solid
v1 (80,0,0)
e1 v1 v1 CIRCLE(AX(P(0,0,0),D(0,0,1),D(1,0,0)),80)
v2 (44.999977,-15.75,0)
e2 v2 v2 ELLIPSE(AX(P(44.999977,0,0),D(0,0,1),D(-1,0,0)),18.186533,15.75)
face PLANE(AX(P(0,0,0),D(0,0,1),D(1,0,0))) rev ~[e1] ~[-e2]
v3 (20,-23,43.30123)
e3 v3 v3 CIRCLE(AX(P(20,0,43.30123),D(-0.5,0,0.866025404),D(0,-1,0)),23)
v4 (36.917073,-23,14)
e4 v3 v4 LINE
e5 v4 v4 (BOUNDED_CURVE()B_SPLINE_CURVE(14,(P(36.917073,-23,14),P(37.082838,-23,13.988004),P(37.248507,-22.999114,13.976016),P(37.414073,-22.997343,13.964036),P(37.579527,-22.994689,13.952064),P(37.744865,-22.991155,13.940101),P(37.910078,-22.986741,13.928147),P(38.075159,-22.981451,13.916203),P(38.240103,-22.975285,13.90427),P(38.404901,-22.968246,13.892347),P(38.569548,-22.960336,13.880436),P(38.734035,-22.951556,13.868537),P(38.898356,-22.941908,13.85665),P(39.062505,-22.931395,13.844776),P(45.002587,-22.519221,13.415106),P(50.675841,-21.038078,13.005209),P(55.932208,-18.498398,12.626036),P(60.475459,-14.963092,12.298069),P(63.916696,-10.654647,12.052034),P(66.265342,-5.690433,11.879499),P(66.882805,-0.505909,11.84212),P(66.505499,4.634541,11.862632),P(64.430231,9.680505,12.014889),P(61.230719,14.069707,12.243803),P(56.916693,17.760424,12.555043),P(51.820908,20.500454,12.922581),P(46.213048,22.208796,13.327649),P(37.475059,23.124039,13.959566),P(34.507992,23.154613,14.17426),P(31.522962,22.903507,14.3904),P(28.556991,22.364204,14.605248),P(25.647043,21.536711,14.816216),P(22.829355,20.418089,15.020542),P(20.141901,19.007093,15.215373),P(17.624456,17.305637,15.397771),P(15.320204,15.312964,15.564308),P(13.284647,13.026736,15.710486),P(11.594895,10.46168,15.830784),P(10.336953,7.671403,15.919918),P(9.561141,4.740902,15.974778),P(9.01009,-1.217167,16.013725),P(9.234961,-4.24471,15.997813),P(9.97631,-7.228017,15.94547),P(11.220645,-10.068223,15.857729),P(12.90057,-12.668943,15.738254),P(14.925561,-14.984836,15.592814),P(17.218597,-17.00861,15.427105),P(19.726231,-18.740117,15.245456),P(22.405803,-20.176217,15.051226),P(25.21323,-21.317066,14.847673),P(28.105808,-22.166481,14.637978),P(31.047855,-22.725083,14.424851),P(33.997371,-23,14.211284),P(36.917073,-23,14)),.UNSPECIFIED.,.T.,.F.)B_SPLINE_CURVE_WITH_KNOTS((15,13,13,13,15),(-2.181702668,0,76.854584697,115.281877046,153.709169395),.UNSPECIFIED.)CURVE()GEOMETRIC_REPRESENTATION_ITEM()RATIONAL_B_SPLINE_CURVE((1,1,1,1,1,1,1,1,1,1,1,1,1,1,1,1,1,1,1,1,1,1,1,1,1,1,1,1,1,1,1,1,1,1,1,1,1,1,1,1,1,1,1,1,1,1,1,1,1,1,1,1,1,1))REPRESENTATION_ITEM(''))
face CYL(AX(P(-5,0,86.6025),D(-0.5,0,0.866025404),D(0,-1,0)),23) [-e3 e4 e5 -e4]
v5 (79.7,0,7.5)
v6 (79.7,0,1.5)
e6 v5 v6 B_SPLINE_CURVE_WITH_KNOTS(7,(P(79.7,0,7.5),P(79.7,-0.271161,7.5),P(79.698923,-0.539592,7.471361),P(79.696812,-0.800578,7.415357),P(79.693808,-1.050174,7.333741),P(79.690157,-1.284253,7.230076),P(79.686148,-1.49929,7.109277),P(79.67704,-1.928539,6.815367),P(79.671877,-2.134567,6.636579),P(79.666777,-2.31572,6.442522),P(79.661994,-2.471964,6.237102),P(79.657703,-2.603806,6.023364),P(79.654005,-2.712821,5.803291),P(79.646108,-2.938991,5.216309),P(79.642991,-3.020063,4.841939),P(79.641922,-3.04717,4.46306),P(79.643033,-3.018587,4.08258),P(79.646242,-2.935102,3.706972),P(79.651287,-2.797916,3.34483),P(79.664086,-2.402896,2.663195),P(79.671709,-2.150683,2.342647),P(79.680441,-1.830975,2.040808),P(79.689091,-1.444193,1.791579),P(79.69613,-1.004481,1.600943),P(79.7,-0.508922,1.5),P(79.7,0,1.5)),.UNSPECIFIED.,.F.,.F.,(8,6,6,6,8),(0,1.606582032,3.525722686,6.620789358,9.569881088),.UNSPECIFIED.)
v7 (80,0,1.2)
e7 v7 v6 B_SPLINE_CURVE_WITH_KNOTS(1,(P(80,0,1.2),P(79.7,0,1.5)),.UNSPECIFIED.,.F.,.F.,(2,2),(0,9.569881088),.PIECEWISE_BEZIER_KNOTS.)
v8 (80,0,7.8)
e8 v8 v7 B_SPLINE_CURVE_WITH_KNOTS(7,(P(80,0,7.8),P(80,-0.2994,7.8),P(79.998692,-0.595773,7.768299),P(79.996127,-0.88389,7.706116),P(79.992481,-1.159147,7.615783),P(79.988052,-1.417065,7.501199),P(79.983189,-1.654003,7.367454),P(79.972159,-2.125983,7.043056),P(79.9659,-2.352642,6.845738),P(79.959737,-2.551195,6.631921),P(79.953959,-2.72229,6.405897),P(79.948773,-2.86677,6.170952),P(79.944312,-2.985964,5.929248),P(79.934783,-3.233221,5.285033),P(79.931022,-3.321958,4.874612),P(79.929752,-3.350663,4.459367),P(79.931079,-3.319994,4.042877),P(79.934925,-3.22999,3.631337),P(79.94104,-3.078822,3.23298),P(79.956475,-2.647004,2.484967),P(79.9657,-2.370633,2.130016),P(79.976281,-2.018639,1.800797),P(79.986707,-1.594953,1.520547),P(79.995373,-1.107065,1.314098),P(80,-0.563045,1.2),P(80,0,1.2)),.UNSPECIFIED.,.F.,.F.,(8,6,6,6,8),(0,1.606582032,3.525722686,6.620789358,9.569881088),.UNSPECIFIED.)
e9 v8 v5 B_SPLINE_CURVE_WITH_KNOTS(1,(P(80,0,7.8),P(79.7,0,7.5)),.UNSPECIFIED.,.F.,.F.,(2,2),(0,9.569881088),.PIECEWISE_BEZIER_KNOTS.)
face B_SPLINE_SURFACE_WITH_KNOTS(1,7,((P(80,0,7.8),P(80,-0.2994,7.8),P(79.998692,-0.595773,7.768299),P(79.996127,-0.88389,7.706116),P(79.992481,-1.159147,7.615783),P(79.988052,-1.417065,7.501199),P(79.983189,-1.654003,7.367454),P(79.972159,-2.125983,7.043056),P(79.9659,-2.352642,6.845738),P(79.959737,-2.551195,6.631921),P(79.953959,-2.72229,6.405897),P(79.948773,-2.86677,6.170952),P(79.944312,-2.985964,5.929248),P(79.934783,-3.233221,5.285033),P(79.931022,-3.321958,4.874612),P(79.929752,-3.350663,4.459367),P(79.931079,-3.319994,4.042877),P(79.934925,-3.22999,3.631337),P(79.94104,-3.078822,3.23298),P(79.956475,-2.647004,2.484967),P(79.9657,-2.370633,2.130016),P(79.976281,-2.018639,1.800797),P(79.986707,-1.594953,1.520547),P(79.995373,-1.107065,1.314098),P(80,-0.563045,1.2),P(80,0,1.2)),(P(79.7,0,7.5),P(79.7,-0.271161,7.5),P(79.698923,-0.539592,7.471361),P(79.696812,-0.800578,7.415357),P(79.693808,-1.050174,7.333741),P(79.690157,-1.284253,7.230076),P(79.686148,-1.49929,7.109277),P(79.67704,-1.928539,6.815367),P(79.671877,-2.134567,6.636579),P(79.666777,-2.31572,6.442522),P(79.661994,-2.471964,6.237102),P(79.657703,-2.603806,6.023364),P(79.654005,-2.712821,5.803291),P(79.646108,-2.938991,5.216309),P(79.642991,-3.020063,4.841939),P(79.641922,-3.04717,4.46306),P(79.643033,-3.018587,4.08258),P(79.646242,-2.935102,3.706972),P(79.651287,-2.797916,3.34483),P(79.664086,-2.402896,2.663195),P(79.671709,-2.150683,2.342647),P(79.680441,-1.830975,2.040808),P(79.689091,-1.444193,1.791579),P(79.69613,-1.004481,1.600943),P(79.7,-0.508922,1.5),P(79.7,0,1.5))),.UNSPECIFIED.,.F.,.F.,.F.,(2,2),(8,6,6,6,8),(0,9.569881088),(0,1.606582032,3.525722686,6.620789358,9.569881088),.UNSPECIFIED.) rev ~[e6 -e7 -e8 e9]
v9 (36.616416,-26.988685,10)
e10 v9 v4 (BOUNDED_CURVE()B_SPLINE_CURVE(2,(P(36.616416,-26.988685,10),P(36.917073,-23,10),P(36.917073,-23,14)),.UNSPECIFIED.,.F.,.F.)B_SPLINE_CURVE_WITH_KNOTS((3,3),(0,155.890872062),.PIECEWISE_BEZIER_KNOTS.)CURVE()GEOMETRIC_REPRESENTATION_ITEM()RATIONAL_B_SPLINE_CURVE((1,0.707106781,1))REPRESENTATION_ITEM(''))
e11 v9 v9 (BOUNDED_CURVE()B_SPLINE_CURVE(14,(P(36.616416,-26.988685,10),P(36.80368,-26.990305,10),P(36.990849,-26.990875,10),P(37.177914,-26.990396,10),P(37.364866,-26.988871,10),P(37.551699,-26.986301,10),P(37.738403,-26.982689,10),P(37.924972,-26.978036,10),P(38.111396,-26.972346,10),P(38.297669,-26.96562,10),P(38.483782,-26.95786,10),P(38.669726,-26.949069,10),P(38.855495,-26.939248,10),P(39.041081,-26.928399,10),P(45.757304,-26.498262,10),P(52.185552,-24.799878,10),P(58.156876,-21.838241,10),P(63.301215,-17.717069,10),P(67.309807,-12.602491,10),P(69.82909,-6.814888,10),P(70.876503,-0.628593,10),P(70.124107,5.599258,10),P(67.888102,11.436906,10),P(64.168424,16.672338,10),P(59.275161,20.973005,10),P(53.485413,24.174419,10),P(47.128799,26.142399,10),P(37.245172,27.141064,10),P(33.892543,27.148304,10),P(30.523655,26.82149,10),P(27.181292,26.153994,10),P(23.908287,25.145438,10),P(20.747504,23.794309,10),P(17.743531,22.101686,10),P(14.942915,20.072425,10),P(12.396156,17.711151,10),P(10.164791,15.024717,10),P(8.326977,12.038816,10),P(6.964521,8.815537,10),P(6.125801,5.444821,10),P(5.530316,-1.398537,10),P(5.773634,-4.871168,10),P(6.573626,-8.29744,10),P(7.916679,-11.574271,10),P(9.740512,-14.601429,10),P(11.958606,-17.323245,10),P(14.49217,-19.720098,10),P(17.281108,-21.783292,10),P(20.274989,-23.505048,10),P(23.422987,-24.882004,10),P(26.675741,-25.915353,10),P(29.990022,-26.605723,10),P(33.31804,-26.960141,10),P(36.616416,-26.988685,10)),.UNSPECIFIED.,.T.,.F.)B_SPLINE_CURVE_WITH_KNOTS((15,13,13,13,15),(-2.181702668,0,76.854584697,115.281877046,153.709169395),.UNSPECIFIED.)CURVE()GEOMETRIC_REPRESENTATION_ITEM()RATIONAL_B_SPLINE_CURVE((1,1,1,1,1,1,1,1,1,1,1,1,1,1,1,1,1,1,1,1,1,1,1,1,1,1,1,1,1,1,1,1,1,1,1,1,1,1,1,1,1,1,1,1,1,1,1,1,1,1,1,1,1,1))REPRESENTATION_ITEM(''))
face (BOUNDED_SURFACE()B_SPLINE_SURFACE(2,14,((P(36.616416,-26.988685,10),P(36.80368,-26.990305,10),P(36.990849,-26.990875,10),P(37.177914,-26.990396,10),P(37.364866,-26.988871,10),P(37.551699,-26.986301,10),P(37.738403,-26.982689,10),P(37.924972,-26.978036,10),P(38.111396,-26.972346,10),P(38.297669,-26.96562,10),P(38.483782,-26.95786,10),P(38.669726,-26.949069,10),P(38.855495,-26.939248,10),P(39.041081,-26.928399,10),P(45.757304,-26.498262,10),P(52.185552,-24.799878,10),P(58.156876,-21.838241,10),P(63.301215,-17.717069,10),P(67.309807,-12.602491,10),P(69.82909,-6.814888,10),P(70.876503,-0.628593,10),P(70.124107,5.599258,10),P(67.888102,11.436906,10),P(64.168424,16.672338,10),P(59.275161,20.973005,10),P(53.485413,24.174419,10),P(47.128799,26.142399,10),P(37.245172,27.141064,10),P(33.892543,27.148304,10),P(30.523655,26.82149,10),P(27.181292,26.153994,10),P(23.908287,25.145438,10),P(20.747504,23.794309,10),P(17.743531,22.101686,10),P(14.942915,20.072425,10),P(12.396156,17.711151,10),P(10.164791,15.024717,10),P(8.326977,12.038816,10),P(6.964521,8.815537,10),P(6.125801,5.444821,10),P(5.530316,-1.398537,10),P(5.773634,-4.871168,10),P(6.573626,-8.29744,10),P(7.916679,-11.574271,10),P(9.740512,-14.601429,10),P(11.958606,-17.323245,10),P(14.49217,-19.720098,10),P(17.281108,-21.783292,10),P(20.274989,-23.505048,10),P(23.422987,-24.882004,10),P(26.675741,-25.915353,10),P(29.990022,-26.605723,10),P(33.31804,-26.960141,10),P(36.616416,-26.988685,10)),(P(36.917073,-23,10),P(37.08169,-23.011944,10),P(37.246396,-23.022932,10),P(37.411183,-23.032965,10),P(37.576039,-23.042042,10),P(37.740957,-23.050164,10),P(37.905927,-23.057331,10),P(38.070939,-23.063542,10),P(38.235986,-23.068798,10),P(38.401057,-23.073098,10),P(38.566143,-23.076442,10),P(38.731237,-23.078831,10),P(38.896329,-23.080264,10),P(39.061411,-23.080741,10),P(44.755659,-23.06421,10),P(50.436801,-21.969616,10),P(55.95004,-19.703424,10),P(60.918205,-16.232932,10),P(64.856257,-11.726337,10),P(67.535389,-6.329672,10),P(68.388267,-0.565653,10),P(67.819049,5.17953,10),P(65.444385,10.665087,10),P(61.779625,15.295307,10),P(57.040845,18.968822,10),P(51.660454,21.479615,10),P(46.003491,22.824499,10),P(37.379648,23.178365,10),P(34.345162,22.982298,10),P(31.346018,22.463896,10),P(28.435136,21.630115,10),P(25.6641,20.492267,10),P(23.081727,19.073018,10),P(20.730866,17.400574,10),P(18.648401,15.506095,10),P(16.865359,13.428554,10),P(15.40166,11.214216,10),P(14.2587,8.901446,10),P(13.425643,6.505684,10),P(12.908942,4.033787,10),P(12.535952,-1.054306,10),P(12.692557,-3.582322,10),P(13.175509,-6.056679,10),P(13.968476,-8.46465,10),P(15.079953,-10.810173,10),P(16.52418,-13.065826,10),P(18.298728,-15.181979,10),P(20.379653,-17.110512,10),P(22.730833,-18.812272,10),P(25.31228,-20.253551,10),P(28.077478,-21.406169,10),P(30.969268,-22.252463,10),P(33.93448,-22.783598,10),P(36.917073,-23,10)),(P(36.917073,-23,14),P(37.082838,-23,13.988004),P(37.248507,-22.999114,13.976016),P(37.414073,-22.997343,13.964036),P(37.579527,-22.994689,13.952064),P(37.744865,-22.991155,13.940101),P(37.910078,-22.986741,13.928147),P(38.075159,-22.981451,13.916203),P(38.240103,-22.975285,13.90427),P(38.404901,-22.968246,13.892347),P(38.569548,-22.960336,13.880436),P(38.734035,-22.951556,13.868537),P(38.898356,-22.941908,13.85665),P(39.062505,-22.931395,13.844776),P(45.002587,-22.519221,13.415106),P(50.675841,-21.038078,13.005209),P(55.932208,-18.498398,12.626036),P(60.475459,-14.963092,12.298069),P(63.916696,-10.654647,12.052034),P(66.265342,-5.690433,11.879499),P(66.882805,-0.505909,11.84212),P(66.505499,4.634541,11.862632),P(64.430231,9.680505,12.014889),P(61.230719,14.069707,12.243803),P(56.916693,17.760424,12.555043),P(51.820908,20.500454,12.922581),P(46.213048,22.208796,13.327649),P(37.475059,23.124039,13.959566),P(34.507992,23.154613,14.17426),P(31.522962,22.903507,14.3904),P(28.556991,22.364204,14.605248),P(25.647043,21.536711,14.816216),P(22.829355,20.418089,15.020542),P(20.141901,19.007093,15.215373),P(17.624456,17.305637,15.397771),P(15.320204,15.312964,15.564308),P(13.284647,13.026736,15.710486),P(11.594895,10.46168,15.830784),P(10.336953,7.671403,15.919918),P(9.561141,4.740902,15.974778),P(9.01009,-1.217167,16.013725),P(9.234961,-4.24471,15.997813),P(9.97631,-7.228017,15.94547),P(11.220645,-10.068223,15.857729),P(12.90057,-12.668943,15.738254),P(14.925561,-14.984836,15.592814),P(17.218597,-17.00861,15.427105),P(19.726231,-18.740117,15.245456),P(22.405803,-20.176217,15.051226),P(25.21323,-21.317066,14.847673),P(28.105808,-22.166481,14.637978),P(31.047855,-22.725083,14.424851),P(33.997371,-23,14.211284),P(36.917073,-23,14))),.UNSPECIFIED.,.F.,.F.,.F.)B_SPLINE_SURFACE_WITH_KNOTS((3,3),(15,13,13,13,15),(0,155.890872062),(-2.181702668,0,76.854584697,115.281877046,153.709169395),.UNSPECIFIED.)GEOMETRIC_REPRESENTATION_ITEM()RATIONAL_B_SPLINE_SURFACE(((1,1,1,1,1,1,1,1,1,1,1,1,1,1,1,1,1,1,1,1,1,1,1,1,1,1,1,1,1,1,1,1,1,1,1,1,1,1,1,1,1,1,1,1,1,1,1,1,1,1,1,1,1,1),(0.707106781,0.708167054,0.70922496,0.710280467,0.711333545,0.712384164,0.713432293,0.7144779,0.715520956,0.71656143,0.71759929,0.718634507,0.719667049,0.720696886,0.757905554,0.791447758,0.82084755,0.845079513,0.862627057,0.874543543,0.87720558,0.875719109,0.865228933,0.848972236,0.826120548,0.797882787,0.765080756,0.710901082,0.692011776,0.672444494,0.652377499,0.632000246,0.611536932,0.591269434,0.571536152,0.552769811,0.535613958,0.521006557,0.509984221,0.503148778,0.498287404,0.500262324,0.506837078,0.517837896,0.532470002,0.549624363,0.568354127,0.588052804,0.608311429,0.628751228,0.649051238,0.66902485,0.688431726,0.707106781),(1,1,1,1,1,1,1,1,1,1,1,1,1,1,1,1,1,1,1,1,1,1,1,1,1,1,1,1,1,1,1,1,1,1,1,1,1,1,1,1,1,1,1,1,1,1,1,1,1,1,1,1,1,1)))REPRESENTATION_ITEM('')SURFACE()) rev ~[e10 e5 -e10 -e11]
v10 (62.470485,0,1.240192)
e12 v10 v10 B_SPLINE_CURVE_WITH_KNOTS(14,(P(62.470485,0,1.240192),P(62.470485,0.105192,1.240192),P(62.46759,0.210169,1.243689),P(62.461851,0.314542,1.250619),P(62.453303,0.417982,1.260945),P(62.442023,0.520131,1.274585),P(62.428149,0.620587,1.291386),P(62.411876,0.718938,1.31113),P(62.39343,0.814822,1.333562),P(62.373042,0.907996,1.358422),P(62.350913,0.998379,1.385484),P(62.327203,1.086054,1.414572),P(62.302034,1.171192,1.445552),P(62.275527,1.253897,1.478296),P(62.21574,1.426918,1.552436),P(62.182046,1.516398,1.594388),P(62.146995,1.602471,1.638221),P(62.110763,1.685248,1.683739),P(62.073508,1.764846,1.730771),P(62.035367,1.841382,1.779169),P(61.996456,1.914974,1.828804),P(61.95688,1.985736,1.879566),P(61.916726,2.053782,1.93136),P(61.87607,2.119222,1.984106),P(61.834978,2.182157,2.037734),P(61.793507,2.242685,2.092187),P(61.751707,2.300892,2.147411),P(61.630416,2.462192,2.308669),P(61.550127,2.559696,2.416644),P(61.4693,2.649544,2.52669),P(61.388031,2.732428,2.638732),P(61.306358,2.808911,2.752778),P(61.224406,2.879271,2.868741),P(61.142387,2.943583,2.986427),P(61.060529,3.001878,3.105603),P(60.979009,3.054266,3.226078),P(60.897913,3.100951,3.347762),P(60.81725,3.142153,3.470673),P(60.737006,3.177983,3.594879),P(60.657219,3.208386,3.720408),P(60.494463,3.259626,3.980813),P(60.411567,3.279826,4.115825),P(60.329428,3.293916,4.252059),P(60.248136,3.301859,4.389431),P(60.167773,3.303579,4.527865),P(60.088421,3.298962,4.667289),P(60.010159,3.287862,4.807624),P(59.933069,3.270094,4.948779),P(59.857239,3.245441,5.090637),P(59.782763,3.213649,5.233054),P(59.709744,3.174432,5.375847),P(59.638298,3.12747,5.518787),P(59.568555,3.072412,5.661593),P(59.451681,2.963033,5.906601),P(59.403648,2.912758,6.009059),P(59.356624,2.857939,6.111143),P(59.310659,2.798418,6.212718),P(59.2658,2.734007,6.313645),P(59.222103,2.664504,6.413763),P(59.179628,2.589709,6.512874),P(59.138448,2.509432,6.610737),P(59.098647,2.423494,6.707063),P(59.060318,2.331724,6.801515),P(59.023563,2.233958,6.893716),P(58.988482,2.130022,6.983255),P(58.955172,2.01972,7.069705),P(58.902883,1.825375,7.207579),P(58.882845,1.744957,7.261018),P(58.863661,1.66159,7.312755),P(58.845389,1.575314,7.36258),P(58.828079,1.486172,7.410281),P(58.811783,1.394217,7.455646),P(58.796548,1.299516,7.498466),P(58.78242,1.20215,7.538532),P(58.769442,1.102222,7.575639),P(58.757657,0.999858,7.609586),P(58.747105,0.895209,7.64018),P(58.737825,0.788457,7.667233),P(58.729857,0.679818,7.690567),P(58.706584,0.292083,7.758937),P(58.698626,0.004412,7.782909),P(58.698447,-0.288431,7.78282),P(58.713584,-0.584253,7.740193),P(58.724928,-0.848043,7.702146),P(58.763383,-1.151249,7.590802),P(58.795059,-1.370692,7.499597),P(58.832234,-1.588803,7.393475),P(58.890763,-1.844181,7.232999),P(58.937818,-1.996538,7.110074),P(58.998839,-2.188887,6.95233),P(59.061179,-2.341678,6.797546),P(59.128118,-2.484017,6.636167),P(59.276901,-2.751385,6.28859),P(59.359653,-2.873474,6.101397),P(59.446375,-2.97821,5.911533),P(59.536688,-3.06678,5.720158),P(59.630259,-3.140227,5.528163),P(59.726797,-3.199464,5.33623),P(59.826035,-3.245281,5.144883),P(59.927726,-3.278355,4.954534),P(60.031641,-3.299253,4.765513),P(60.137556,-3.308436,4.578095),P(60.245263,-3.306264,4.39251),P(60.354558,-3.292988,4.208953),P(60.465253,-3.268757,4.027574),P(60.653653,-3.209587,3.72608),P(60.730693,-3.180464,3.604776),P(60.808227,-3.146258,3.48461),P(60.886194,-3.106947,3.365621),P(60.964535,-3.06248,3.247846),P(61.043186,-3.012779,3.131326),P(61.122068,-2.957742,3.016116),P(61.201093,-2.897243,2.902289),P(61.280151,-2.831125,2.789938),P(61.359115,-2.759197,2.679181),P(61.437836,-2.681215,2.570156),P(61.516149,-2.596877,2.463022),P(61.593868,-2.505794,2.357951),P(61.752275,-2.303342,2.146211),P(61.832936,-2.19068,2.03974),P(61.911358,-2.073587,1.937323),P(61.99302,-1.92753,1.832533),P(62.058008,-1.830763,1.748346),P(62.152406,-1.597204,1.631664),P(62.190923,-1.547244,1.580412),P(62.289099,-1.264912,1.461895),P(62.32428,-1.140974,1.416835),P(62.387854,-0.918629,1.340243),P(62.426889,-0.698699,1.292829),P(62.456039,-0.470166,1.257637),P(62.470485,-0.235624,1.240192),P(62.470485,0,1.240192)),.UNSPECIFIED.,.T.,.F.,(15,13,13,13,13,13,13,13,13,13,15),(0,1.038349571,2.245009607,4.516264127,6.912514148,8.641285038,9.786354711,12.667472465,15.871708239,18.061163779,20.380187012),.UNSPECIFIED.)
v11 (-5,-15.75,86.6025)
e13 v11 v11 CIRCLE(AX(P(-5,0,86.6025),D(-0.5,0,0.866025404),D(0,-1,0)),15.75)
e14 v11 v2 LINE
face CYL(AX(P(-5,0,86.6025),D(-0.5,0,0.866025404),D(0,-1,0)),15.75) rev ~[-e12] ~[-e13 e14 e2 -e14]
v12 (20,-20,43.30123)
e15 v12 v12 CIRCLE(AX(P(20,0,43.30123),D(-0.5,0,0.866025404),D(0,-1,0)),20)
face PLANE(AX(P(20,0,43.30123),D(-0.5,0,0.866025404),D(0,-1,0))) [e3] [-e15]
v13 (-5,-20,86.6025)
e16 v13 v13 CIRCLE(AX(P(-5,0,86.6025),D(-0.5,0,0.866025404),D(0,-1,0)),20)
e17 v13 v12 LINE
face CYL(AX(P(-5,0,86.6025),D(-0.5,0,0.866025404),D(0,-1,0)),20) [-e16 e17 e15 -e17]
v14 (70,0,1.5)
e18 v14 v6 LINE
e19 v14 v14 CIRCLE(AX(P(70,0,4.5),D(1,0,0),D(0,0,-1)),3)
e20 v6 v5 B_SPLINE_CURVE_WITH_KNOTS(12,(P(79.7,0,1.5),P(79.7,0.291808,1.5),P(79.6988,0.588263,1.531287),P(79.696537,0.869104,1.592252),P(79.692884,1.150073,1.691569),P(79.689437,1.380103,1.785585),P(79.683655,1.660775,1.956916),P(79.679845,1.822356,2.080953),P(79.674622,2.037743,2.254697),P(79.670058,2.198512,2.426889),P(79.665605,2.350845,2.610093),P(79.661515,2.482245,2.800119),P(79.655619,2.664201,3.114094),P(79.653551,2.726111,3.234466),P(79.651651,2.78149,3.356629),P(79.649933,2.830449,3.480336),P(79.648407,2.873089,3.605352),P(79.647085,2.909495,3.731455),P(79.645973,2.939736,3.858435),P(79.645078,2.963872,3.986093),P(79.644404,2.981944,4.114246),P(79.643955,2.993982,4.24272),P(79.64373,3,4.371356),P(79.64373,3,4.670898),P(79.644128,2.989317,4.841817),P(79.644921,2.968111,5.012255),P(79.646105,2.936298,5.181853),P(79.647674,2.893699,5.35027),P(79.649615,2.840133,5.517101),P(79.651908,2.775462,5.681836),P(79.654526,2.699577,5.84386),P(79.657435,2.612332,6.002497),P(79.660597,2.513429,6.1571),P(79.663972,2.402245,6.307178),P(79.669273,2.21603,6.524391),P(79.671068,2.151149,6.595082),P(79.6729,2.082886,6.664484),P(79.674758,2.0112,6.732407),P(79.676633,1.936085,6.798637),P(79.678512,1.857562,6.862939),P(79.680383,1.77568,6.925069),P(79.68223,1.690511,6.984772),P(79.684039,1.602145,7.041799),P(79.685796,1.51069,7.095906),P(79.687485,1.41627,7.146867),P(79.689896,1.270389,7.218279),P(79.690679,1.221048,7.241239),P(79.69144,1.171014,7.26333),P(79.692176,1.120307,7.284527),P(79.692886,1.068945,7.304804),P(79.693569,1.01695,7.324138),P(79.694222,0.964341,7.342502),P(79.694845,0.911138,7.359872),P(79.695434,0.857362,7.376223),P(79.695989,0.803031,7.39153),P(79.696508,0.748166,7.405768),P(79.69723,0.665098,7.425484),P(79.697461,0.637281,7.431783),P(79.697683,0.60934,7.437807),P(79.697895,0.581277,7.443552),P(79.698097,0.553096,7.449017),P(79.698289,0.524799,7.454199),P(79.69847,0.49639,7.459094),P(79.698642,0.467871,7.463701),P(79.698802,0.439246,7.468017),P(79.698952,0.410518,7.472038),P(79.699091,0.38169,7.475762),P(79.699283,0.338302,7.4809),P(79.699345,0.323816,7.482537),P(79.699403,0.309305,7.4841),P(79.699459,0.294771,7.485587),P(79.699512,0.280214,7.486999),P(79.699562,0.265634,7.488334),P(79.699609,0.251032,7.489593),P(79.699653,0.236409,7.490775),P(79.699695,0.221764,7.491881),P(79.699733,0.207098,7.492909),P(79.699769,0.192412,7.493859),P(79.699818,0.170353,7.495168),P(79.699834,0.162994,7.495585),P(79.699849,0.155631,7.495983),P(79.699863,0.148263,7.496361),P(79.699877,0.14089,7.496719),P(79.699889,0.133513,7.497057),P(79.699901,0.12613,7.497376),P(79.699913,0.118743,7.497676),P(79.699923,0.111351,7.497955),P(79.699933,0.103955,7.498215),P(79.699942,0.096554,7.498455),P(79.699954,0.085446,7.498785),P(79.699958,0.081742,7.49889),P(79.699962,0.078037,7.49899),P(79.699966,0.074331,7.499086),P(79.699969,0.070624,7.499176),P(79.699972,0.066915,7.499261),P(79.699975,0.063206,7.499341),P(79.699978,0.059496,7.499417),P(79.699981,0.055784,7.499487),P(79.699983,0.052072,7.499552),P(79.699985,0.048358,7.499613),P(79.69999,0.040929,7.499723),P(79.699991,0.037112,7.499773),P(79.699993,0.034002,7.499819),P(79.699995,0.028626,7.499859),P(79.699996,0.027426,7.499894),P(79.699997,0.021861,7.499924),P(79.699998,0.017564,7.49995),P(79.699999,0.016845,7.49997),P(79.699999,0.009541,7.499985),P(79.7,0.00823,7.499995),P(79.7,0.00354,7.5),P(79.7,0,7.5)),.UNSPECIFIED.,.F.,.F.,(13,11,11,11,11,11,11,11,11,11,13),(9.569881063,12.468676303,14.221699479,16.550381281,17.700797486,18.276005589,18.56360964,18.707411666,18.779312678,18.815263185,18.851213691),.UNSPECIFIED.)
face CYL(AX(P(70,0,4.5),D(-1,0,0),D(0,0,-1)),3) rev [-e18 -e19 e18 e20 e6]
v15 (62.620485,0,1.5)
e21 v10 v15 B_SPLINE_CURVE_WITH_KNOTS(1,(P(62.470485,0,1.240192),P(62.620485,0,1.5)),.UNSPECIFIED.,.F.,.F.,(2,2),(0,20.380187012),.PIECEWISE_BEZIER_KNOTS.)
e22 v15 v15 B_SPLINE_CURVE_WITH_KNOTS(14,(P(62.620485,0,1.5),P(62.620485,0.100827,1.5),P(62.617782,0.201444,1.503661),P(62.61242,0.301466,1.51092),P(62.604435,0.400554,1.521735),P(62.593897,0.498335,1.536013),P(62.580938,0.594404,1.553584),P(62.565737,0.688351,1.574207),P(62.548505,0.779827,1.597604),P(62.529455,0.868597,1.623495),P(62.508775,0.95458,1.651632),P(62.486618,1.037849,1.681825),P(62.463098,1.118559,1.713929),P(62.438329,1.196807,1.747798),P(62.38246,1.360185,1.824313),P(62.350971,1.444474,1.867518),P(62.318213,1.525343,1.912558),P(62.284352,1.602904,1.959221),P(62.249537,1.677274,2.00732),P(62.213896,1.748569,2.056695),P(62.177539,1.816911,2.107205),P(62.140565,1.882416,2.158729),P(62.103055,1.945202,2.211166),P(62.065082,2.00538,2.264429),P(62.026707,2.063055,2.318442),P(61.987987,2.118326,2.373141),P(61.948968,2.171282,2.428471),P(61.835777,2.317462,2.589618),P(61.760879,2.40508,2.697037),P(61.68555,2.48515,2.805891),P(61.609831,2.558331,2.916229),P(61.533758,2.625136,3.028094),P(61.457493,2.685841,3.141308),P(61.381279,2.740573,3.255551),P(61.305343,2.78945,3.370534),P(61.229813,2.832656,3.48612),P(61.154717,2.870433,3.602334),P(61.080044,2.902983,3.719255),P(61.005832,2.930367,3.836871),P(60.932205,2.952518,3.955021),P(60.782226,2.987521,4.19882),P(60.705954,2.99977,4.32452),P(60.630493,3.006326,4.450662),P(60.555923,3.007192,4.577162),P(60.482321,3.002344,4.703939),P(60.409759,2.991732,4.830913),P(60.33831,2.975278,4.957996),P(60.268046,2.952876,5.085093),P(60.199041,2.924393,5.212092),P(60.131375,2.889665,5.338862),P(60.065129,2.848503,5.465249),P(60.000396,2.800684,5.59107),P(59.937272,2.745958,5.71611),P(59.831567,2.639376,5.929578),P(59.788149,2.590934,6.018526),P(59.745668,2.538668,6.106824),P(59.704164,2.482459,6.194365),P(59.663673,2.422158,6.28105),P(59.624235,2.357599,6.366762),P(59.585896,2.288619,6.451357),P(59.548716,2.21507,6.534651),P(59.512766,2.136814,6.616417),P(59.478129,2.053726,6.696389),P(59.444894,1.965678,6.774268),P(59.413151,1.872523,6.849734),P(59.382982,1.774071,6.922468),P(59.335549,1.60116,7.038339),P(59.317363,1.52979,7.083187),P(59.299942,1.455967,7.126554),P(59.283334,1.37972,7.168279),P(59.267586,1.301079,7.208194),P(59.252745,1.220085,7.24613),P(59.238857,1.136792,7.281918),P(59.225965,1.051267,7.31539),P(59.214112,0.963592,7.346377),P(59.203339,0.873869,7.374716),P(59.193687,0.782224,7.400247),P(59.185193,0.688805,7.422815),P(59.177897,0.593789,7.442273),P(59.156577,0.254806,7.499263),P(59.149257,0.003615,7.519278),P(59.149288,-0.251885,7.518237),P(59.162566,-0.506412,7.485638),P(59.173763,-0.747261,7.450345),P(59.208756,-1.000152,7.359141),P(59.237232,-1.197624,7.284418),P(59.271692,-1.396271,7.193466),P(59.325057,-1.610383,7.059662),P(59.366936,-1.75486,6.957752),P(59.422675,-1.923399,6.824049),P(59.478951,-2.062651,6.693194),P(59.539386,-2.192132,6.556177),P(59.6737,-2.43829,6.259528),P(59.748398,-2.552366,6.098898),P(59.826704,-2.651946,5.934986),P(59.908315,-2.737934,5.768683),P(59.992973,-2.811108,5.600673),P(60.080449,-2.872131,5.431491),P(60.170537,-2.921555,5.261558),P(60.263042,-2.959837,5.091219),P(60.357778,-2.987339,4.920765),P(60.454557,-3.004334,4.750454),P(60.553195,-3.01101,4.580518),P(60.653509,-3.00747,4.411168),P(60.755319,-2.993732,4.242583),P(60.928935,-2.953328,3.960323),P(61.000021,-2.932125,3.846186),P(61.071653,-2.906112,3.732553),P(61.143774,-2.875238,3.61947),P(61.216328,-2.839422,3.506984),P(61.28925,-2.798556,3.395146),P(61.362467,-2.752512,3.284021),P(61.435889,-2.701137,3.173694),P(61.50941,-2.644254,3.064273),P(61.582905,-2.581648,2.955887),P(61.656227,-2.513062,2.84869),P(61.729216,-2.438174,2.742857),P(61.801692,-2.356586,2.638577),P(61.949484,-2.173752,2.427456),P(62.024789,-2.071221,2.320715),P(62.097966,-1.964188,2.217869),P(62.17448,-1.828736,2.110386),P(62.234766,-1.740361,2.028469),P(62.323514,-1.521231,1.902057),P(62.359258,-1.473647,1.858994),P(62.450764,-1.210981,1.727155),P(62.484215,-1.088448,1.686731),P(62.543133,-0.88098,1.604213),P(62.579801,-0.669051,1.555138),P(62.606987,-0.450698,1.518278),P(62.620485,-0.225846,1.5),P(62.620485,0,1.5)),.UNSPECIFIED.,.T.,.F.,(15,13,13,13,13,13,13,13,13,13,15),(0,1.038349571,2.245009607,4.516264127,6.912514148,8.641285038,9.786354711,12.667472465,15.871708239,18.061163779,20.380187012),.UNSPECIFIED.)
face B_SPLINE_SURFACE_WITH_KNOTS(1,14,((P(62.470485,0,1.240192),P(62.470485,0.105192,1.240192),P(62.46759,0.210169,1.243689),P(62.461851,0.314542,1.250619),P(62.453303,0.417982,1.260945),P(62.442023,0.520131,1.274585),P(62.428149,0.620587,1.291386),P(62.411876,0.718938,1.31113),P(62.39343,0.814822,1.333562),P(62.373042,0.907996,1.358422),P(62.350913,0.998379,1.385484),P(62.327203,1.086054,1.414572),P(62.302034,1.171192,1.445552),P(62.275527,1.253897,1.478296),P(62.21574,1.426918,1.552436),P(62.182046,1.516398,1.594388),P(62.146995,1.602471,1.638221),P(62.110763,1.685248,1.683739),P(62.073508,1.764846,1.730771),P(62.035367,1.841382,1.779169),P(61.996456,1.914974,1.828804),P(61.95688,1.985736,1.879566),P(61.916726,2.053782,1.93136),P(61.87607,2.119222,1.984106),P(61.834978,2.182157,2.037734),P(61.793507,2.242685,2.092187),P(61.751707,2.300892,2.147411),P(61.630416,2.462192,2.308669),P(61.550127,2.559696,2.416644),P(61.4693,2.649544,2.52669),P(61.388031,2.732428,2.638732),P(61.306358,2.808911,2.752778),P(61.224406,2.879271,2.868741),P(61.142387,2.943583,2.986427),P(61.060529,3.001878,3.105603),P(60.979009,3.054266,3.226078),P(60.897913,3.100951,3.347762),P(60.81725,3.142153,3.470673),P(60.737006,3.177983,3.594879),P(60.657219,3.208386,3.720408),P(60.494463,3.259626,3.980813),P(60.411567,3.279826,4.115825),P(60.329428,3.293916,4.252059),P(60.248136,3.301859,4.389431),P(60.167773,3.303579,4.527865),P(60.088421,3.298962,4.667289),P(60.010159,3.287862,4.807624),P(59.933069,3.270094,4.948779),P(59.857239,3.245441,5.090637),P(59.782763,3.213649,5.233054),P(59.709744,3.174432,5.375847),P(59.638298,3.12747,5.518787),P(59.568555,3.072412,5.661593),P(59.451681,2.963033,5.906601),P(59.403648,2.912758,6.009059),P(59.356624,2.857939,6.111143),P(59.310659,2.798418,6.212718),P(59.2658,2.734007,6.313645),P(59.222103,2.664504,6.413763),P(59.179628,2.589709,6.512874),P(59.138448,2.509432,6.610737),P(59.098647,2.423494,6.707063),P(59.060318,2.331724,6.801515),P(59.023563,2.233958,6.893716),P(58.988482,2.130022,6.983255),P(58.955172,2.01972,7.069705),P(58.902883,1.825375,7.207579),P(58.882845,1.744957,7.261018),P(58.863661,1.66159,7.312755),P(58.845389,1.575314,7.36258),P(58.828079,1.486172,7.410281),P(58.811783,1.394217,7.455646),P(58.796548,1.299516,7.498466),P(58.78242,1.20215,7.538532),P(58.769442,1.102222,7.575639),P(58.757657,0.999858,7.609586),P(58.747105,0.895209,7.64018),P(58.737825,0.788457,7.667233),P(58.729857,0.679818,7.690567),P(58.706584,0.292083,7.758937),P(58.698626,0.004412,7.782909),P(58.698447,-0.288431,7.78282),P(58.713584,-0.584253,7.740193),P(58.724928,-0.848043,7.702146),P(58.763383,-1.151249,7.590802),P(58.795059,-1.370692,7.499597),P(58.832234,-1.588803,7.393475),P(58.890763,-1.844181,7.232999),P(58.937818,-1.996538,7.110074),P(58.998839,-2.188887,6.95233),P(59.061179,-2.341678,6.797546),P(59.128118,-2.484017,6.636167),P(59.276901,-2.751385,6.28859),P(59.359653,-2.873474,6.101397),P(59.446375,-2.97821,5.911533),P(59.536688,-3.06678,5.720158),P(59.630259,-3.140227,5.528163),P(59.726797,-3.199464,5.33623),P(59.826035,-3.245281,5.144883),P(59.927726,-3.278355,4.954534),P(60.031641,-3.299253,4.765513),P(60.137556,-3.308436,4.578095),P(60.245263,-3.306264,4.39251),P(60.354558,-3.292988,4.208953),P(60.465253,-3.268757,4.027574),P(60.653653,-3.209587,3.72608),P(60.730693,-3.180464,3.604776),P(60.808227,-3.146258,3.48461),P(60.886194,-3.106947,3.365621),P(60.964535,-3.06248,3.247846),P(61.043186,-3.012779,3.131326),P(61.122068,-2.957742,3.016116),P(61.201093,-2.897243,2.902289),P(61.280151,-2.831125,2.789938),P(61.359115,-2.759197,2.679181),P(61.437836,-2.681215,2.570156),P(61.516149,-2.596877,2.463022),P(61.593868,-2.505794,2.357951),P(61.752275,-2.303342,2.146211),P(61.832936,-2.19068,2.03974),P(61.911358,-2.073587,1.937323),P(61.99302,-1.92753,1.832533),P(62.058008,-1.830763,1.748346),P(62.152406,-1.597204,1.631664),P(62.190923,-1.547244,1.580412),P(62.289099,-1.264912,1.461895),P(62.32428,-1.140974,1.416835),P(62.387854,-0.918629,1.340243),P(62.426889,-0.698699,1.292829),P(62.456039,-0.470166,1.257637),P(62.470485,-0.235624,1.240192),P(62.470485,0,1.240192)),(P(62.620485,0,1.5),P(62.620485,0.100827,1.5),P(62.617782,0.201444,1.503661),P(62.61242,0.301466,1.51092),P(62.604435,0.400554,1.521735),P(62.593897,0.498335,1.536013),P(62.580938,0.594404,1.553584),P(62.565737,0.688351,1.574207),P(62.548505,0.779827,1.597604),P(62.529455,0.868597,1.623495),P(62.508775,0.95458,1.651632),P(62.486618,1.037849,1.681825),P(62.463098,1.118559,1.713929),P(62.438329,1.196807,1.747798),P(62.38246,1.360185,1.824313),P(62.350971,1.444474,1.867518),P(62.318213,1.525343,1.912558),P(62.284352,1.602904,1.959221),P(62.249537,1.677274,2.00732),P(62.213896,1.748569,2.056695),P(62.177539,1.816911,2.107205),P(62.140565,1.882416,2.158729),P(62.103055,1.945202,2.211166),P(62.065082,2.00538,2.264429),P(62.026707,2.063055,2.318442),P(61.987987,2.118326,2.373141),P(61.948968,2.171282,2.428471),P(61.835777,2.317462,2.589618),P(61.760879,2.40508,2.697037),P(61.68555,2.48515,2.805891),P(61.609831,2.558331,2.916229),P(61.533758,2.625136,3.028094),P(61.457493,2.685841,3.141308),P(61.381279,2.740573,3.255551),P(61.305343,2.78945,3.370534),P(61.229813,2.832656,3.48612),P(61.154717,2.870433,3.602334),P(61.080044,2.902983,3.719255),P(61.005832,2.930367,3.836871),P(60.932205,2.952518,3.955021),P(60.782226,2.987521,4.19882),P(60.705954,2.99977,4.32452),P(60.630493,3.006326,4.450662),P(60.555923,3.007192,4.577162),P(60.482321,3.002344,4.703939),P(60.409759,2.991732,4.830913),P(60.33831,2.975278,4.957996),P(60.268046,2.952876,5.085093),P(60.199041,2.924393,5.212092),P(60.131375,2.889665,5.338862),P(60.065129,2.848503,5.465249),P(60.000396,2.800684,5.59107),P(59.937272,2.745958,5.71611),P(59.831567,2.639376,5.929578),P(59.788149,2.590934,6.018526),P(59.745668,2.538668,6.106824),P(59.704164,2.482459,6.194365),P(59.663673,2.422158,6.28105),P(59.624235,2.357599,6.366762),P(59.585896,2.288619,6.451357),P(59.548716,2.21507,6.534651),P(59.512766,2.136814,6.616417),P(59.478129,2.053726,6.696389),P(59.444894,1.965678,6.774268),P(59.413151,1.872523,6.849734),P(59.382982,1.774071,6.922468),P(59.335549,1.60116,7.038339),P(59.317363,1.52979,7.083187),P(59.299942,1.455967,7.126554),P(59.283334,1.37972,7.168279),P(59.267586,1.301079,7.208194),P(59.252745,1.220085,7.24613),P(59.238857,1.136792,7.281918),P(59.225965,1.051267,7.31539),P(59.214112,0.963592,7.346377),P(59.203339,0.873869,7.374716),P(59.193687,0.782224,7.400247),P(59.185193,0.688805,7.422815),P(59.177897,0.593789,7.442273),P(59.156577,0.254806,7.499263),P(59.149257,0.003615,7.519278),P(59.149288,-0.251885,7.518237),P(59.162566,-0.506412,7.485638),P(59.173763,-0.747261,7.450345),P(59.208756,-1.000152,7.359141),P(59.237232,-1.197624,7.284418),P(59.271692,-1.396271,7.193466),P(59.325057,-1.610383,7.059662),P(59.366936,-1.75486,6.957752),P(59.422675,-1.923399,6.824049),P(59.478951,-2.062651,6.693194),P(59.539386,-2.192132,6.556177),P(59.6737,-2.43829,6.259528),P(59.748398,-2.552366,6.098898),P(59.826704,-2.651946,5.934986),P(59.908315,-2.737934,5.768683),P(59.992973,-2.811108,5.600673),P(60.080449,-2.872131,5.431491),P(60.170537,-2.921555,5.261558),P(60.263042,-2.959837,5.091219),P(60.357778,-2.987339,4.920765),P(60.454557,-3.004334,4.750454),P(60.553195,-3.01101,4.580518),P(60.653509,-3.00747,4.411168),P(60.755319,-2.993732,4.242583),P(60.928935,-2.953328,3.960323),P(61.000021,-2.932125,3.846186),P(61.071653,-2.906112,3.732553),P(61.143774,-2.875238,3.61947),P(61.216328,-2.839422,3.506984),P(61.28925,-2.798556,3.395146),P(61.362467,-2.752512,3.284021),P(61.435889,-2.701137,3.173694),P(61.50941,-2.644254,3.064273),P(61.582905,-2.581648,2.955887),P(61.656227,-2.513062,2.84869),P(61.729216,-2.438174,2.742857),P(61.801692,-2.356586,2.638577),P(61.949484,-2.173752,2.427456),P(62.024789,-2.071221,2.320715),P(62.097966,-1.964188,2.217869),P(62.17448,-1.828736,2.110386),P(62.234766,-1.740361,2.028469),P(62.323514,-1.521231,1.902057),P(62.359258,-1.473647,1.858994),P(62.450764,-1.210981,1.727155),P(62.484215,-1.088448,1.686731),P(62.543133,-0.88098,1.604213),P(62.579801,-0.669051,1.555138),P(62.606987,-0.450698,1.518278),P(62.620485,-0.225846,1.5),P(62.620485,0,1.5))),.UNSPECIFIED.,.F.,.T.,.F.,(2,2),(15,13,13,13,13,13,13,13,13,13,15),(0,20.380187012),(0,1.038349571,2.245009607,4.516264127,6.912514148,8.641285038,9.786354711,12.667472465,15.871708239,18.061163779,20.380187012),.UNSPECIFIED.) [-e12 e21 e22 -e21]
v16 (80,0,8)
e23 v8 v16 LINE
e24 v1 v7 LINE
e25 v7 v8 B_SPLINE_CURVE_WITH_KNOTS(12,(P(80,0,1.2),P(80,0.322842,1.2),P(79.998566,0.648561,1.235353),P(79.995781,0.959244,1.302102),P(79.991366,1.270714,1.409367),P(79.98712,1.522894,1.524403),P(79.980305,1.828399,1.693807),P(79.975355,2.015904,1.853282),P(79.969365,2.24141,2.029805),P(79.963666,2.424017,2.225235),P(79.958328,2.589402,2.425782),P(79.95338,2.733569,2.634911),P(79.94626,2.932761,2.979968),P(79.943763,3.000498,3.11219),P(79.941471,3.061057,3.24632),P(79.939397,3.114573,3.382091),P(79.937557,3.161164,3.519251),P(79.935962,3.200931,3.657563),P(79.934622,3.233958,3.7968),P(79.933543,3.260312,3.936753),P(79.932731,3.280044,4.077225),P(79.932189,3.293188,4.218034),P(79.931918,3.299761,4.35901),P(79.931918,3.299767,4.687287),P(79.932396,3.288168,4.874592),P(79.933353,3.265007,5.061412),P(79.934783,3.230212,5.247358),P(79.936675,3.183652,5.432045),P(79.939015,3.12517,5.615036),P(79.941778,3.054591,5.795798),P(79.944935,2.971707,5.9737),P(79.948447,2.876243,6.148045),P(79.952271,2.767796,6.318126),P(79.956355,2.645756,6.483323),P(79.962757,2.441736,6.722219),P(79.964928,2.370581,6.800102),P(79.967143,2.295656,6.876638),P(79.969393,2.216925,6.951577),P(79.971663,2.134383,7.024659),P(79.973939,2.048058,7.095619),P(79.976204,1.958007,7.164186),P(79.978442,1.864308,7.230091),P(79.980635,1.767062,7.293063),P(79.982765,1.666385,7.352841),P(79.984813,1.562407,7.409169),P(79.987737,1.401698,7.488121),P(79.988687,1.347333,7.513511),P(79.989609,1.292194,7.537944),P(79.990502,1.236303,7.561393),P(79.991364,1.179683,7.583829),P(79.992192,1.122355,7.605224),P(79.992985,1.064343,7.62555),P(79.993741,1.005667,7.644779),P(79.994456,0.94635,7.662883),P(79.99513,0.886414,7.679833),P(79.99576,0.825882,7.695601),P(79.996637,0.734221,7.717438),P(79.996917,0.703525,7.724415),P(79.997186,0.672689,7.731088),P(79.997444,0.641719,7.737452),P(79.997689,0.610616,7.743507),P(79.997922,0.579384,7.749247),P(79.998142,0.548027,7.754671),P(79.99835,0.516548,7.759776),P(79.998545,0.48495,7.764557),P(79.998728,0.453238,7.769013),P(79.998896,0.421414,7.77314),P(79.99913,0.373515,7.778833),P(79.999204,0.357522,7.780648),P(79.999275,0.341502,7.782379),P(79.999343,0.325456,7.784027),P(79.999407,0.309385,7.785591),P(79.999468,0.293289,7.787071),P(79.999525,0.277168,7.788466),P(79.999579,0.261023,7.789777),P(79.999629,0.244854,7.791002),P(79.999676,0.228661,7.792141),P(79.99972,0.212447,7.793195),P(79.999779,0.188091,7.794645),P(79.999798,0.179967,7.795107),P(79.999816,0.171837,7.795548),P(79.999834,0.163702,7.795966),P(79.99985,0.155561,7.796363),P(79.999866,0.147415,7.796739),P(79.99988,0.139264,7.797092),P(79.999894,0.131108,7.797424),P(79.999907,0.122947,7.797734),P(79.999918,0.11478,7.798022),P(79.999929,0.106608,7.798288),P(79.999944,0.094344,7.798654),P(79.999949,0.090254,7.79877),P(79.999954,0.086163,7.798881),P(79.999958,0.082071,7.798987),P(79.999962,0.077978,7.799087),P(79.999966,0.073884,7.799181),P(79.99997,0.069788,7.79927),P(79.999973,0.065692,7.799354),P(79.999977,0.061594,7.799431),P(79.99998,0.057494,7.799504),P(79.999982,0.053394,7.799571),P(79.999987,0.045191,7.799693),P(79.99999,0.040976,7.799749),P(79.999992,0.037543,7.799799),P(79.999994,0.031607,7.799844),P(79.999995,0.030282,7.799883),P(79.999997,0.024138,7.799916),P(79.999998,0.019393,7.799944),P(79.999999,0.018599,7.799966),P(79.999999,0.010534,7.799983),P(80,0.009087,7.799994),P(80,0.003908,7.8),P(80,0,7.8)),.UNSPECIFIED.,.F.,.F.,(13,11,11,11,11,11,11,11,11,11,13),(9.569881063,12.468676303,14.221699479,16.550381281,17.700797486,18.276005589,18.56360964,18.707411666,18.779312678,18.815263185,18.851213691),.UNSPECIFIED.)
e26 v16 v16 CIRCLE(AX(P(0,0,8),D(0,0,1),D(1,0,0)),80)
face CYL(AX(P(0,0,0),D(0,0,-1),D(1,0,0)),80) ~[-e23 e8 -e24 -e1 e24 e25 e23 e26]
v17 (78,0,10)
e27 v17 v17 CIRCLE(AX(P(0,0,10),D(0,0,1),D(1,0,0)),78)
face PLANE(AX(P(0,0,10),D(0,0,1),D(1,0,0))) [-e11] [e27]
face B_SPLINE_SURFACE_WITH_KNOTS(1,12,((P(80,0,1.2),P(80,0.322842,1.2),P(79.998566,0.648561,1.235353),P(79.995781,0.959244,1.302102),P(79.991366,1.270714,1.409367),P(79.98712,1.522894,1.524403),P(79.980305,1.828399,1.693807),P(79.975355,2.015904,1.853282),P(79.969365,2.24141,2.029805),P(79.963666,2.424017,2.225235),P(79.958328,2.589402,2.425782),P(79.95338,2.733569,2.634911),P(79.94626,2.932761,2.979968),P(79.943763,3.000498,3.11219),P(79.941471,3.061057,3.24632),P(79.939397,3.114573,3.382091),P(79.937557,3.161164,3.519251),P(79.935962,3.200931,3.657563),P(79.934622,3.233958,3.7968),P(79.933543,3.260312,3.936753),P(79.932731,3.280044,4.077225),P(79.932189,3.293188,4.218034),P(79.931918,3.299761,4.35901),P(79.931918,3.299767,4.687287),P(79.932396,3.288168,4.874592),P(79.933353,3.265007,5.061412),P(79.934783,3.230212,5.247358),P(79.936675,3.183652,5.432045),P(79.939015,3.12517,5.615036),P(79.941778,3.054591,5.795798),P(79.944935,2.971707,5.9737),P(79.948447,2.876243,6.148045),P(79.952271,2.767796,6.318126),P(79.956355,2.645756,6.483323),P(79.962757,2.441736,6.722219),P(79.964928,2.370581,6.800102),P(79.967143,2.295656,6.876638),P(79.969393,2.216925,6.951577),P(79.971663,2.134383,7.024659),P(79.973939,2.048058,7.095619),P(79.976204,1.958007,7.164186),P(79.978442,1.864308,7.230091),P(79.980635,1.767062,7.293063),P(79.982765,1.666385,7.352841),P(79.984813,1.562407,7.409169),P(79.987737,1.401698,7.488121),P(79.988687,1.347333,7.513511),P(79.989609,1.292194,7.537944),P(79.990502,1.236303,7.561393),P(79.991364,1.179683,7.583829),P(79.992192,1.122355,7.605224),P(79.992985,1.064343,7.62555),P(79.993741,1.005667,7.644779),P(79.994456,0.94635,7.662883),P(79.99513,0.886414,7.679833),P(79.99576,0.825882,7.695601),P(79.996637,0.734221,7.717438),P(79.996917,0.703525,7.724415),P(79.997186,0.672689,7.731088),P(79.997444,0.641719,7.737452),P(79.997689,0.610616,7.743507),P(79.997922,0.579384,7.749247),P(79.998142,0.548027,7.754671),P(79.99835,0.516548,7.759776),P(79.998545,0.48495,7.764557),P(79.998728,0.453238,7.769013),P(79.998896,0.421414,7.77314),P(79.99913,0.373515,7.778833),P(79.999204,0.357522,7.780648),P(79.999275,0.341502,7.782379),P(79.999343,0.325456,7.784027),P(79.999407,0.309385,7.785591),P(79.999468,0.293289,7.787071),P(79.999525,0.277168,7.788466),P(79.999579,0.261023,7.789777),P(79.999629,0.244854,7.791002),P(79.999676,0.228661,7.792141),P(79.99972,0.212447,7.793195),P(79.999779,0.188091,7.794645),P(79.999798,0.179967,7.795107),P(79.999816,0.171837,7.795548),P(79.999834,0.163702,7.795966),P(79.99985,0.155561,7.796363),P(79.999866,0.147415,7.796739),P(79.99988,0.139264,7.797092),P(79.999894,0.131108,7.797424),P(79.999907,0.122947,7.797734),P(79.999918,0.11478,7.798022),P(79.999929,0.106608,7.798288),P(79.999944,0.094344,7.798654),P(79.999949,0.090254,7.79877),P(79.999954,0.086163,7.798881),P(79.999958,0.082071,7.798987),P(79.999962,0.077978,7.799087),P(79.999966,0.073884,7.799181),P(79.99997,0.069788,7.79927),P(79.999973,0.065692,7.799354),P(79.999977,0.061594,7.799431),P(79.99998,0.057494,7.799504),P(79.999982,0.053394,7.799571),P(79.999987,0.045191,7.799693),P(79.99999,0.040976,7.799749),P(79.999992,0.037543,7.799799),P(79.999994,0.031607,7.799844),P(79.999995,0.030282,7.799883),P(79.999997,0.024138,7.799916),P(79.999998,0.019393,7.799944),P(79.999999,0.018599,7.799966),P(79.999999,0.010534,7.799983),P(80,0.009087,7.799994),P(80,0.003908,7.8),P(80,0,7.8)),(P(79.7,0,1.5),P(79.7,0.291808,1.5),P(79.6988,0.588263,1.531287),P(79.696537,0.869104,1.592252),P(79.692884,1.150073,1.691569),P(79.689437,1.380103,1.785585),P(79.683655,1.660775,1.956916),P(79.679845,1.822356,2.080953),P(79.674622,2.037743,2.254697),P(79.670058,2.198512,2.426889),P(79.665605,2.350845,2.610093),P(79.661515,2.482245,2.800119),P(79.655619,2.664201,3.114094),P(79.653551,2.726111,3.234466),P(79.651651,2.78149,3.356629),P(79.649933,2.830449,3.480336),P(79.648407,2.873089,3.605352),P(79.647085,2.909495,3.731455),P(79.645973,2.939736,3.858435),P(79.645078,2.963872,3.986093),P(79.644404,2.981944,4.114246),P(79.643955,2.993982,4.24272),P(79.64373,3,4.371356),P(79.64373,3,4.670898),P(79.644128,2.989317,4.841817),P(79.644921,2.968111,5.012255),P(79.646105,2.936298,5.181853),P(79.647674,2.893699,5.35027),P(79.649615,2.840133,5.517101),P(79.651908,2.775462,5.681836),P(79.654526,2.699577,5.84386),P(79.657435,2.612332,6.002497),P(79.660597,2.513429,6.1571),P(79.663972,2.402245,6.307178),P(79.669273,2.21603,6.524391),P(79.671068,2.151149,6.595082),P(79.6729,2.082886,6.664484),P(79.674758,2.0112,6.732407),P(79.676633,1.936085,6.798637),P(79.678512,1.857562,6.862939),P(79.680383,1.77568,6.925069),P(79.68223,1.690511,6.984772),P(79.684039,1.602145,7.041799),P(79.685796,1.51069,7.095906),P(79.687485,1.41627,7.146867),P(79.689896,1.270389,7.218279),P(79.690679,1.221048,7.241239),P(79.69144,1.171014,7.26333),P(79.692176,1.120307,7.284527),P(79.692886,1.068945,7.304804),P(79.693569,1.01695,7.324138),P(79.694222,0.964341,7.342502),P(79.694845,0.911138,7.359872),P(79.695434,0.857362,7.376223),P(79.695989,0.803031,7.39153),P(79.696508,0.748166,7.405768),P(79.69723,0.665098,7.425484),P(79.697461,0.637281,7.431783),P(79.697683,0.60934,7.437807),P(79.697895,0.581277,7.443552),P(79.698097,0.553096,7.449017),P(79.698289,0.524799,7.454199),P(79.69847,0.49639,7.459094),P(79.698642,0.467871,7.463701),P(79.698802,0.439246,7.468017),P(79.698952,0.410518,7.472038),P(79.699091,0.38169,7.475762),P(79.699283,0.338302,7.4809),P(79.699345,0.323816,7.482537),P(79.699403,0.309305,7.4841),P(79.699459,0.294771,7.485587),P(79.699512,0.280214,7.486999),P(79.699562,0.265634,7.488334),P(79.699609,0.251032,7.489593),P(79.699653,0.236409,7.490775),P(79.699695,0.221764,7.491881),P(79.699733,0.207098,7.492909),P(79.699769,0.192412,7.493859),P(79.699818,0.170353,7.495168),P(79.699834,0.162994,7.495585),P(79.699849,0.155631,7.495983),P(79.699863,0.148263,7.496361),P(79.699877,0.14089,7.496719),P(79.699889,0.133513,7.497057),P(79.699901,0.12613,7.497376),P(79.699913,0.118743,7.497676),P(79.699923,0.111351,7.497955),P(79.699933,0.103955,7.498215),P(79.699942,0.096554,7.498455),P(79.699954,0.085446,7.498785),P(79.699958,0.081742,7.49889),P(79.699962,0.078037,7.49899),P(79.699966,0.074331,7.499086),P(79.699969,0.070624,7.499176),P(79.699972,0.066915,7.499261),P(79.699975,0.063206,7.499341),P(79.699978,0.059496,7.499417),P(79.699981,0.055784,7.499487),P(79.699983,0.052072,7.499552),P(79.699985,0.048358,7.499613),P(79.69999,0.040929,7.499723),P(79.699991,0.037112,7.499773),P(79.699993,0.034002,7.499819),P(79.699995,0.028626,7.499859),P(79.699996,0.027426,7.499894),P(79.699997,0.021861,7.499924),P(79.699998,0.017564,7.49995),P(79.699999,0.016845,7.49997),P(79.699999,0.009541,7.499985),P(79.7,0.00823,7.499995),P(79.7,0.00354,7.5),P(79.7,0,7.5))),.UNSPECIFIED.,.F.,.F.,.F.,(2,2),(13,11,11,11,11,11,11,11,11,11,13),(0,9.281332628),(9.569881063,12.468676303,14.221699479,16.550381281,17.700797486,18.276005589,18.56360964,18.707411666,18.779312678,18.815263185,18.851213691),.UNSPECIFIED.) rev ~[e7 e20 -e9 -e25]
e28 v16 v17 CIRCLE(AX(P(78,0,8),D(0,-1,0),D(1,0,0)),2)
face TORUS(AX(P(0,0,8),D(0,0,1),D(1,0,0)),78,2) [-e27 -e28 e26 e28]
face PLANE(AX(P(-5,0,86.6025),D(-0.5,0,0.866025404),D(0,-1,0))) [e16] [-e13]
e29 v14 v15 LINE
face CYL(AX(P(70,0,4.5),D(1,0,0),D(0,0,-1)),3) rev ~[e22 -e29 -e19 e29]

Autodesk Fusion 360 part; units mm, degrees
sketch "Skizze1" plane through (0, 0, 0) normal (0, 0, 1) x (1, 0, 0)
  circle A0 centre (0, 0) radius 80
extrude "Extrusion1" add sketch "Skizze1" along normal blind 10 makes body 1
fillet "Abrundung1" radius 2 1 edges at (-74.5862, -28.9292, 10) on bodies 1
sketch "Skizze2" plane through (0, 0, 0) normal (0, 1, 0) x (1, 0, 0)
  line L0 (45, 0) -> (-5, -86.6025) construction
ref_plane "Arbeitsebene1" through (-5, 0, 86.6025) normal (-0.5, 0, 0.866) x (0, -1, 0)
sketch "Skizze3" plane through (-5, 0, 86.6025) normal (-0.5, 0, 0.866) x (0, -1, 0)
  circle A0 centre (0, 0) radius 23
  circle A1 centre (0, 0) radius 20
extrude "Extrusion5" add sketch "Skizze3" against normal blind 110 separate body contours A0 | A1 makes body 2
combine "Kombinieren1" operation add target body 1 tool bodies 2
extrude "Extrusion6" cut sketch "Skizze3" against normal blind 50 bodies 1
fillet "Abrundung2" radius 4 3 edges at (65.7846, 0, 10) (-74.5862, -28.9292, 8) (-72.7215, 28.206, 10) on bodies 1
sketch "Skizze4" plane through (-5, 0, 86.6025) normal (-0.5, 0, 0.866) x (0, -1, 0)
  circle A0 centre (0, 0) radius 15.75
extrude "Extrusion7" cut sketch "Skizze4" against normal blind 110 bodies 1
sketch "Skizze5" plane through (0, 0, 0) normal (0, 0, 1) x (1, 0, 0)
  circle A0 centre (0, 0) radius 160
extrude "Extrusion8" cut sketch "Skizze5" against normal blind 110 bodies 1
ref_plane "Arbeitsebene2" through (70, 0, 0) normal (1, 0, 0) x (0, 1, 0)
sketch "Skizze6" plane through (70, 0, 0) normal (1, 0, 0) x (0, 0, -1)
  circle A0 centre (-4.5, 0) radius 3
extrude "Extrusion9" cut sketch "Skizze6" along normal mid plane 32 bodies 1
chamfer "Fase1" distance 0.3 angle 45 2 edges at (60.3709, 2.9933, 4.3029) (79.9437, -3, 4.5) on bodies 1
equation "base_plate_diameter = 160 mm"
equation "base_plate_height = 10 mm"
equation "base_plate_rounding = 2 mm"
equation "leg_outer_diameter = 46 mm"
equation "ring_inner_diameter = 40 mm"
equation "ring_extrude_depth = 50 mm"
equation "hole_inner_diameter = 31.5 mm"
equation "leg_length = 100 mm"
equation "leg_angle = 120 deg"
equation "leg_offset = 45 mm"
equation "leg_plate_rounding = 4 mm"
equation "cable_hole_offset = 70 mm"
equation "cable_hole_diameter = 6 mm"
equation "cable_hole_height = 4.5 mm"
equation "cable_hole_chamfer = 0.3 mm"
equation "d16 = base_plate_height"
equation "d19 = base_plate_rounding"
equation "d32 = leg_plate_rounding"
equation "d41 = cable_hole_chamfer"
